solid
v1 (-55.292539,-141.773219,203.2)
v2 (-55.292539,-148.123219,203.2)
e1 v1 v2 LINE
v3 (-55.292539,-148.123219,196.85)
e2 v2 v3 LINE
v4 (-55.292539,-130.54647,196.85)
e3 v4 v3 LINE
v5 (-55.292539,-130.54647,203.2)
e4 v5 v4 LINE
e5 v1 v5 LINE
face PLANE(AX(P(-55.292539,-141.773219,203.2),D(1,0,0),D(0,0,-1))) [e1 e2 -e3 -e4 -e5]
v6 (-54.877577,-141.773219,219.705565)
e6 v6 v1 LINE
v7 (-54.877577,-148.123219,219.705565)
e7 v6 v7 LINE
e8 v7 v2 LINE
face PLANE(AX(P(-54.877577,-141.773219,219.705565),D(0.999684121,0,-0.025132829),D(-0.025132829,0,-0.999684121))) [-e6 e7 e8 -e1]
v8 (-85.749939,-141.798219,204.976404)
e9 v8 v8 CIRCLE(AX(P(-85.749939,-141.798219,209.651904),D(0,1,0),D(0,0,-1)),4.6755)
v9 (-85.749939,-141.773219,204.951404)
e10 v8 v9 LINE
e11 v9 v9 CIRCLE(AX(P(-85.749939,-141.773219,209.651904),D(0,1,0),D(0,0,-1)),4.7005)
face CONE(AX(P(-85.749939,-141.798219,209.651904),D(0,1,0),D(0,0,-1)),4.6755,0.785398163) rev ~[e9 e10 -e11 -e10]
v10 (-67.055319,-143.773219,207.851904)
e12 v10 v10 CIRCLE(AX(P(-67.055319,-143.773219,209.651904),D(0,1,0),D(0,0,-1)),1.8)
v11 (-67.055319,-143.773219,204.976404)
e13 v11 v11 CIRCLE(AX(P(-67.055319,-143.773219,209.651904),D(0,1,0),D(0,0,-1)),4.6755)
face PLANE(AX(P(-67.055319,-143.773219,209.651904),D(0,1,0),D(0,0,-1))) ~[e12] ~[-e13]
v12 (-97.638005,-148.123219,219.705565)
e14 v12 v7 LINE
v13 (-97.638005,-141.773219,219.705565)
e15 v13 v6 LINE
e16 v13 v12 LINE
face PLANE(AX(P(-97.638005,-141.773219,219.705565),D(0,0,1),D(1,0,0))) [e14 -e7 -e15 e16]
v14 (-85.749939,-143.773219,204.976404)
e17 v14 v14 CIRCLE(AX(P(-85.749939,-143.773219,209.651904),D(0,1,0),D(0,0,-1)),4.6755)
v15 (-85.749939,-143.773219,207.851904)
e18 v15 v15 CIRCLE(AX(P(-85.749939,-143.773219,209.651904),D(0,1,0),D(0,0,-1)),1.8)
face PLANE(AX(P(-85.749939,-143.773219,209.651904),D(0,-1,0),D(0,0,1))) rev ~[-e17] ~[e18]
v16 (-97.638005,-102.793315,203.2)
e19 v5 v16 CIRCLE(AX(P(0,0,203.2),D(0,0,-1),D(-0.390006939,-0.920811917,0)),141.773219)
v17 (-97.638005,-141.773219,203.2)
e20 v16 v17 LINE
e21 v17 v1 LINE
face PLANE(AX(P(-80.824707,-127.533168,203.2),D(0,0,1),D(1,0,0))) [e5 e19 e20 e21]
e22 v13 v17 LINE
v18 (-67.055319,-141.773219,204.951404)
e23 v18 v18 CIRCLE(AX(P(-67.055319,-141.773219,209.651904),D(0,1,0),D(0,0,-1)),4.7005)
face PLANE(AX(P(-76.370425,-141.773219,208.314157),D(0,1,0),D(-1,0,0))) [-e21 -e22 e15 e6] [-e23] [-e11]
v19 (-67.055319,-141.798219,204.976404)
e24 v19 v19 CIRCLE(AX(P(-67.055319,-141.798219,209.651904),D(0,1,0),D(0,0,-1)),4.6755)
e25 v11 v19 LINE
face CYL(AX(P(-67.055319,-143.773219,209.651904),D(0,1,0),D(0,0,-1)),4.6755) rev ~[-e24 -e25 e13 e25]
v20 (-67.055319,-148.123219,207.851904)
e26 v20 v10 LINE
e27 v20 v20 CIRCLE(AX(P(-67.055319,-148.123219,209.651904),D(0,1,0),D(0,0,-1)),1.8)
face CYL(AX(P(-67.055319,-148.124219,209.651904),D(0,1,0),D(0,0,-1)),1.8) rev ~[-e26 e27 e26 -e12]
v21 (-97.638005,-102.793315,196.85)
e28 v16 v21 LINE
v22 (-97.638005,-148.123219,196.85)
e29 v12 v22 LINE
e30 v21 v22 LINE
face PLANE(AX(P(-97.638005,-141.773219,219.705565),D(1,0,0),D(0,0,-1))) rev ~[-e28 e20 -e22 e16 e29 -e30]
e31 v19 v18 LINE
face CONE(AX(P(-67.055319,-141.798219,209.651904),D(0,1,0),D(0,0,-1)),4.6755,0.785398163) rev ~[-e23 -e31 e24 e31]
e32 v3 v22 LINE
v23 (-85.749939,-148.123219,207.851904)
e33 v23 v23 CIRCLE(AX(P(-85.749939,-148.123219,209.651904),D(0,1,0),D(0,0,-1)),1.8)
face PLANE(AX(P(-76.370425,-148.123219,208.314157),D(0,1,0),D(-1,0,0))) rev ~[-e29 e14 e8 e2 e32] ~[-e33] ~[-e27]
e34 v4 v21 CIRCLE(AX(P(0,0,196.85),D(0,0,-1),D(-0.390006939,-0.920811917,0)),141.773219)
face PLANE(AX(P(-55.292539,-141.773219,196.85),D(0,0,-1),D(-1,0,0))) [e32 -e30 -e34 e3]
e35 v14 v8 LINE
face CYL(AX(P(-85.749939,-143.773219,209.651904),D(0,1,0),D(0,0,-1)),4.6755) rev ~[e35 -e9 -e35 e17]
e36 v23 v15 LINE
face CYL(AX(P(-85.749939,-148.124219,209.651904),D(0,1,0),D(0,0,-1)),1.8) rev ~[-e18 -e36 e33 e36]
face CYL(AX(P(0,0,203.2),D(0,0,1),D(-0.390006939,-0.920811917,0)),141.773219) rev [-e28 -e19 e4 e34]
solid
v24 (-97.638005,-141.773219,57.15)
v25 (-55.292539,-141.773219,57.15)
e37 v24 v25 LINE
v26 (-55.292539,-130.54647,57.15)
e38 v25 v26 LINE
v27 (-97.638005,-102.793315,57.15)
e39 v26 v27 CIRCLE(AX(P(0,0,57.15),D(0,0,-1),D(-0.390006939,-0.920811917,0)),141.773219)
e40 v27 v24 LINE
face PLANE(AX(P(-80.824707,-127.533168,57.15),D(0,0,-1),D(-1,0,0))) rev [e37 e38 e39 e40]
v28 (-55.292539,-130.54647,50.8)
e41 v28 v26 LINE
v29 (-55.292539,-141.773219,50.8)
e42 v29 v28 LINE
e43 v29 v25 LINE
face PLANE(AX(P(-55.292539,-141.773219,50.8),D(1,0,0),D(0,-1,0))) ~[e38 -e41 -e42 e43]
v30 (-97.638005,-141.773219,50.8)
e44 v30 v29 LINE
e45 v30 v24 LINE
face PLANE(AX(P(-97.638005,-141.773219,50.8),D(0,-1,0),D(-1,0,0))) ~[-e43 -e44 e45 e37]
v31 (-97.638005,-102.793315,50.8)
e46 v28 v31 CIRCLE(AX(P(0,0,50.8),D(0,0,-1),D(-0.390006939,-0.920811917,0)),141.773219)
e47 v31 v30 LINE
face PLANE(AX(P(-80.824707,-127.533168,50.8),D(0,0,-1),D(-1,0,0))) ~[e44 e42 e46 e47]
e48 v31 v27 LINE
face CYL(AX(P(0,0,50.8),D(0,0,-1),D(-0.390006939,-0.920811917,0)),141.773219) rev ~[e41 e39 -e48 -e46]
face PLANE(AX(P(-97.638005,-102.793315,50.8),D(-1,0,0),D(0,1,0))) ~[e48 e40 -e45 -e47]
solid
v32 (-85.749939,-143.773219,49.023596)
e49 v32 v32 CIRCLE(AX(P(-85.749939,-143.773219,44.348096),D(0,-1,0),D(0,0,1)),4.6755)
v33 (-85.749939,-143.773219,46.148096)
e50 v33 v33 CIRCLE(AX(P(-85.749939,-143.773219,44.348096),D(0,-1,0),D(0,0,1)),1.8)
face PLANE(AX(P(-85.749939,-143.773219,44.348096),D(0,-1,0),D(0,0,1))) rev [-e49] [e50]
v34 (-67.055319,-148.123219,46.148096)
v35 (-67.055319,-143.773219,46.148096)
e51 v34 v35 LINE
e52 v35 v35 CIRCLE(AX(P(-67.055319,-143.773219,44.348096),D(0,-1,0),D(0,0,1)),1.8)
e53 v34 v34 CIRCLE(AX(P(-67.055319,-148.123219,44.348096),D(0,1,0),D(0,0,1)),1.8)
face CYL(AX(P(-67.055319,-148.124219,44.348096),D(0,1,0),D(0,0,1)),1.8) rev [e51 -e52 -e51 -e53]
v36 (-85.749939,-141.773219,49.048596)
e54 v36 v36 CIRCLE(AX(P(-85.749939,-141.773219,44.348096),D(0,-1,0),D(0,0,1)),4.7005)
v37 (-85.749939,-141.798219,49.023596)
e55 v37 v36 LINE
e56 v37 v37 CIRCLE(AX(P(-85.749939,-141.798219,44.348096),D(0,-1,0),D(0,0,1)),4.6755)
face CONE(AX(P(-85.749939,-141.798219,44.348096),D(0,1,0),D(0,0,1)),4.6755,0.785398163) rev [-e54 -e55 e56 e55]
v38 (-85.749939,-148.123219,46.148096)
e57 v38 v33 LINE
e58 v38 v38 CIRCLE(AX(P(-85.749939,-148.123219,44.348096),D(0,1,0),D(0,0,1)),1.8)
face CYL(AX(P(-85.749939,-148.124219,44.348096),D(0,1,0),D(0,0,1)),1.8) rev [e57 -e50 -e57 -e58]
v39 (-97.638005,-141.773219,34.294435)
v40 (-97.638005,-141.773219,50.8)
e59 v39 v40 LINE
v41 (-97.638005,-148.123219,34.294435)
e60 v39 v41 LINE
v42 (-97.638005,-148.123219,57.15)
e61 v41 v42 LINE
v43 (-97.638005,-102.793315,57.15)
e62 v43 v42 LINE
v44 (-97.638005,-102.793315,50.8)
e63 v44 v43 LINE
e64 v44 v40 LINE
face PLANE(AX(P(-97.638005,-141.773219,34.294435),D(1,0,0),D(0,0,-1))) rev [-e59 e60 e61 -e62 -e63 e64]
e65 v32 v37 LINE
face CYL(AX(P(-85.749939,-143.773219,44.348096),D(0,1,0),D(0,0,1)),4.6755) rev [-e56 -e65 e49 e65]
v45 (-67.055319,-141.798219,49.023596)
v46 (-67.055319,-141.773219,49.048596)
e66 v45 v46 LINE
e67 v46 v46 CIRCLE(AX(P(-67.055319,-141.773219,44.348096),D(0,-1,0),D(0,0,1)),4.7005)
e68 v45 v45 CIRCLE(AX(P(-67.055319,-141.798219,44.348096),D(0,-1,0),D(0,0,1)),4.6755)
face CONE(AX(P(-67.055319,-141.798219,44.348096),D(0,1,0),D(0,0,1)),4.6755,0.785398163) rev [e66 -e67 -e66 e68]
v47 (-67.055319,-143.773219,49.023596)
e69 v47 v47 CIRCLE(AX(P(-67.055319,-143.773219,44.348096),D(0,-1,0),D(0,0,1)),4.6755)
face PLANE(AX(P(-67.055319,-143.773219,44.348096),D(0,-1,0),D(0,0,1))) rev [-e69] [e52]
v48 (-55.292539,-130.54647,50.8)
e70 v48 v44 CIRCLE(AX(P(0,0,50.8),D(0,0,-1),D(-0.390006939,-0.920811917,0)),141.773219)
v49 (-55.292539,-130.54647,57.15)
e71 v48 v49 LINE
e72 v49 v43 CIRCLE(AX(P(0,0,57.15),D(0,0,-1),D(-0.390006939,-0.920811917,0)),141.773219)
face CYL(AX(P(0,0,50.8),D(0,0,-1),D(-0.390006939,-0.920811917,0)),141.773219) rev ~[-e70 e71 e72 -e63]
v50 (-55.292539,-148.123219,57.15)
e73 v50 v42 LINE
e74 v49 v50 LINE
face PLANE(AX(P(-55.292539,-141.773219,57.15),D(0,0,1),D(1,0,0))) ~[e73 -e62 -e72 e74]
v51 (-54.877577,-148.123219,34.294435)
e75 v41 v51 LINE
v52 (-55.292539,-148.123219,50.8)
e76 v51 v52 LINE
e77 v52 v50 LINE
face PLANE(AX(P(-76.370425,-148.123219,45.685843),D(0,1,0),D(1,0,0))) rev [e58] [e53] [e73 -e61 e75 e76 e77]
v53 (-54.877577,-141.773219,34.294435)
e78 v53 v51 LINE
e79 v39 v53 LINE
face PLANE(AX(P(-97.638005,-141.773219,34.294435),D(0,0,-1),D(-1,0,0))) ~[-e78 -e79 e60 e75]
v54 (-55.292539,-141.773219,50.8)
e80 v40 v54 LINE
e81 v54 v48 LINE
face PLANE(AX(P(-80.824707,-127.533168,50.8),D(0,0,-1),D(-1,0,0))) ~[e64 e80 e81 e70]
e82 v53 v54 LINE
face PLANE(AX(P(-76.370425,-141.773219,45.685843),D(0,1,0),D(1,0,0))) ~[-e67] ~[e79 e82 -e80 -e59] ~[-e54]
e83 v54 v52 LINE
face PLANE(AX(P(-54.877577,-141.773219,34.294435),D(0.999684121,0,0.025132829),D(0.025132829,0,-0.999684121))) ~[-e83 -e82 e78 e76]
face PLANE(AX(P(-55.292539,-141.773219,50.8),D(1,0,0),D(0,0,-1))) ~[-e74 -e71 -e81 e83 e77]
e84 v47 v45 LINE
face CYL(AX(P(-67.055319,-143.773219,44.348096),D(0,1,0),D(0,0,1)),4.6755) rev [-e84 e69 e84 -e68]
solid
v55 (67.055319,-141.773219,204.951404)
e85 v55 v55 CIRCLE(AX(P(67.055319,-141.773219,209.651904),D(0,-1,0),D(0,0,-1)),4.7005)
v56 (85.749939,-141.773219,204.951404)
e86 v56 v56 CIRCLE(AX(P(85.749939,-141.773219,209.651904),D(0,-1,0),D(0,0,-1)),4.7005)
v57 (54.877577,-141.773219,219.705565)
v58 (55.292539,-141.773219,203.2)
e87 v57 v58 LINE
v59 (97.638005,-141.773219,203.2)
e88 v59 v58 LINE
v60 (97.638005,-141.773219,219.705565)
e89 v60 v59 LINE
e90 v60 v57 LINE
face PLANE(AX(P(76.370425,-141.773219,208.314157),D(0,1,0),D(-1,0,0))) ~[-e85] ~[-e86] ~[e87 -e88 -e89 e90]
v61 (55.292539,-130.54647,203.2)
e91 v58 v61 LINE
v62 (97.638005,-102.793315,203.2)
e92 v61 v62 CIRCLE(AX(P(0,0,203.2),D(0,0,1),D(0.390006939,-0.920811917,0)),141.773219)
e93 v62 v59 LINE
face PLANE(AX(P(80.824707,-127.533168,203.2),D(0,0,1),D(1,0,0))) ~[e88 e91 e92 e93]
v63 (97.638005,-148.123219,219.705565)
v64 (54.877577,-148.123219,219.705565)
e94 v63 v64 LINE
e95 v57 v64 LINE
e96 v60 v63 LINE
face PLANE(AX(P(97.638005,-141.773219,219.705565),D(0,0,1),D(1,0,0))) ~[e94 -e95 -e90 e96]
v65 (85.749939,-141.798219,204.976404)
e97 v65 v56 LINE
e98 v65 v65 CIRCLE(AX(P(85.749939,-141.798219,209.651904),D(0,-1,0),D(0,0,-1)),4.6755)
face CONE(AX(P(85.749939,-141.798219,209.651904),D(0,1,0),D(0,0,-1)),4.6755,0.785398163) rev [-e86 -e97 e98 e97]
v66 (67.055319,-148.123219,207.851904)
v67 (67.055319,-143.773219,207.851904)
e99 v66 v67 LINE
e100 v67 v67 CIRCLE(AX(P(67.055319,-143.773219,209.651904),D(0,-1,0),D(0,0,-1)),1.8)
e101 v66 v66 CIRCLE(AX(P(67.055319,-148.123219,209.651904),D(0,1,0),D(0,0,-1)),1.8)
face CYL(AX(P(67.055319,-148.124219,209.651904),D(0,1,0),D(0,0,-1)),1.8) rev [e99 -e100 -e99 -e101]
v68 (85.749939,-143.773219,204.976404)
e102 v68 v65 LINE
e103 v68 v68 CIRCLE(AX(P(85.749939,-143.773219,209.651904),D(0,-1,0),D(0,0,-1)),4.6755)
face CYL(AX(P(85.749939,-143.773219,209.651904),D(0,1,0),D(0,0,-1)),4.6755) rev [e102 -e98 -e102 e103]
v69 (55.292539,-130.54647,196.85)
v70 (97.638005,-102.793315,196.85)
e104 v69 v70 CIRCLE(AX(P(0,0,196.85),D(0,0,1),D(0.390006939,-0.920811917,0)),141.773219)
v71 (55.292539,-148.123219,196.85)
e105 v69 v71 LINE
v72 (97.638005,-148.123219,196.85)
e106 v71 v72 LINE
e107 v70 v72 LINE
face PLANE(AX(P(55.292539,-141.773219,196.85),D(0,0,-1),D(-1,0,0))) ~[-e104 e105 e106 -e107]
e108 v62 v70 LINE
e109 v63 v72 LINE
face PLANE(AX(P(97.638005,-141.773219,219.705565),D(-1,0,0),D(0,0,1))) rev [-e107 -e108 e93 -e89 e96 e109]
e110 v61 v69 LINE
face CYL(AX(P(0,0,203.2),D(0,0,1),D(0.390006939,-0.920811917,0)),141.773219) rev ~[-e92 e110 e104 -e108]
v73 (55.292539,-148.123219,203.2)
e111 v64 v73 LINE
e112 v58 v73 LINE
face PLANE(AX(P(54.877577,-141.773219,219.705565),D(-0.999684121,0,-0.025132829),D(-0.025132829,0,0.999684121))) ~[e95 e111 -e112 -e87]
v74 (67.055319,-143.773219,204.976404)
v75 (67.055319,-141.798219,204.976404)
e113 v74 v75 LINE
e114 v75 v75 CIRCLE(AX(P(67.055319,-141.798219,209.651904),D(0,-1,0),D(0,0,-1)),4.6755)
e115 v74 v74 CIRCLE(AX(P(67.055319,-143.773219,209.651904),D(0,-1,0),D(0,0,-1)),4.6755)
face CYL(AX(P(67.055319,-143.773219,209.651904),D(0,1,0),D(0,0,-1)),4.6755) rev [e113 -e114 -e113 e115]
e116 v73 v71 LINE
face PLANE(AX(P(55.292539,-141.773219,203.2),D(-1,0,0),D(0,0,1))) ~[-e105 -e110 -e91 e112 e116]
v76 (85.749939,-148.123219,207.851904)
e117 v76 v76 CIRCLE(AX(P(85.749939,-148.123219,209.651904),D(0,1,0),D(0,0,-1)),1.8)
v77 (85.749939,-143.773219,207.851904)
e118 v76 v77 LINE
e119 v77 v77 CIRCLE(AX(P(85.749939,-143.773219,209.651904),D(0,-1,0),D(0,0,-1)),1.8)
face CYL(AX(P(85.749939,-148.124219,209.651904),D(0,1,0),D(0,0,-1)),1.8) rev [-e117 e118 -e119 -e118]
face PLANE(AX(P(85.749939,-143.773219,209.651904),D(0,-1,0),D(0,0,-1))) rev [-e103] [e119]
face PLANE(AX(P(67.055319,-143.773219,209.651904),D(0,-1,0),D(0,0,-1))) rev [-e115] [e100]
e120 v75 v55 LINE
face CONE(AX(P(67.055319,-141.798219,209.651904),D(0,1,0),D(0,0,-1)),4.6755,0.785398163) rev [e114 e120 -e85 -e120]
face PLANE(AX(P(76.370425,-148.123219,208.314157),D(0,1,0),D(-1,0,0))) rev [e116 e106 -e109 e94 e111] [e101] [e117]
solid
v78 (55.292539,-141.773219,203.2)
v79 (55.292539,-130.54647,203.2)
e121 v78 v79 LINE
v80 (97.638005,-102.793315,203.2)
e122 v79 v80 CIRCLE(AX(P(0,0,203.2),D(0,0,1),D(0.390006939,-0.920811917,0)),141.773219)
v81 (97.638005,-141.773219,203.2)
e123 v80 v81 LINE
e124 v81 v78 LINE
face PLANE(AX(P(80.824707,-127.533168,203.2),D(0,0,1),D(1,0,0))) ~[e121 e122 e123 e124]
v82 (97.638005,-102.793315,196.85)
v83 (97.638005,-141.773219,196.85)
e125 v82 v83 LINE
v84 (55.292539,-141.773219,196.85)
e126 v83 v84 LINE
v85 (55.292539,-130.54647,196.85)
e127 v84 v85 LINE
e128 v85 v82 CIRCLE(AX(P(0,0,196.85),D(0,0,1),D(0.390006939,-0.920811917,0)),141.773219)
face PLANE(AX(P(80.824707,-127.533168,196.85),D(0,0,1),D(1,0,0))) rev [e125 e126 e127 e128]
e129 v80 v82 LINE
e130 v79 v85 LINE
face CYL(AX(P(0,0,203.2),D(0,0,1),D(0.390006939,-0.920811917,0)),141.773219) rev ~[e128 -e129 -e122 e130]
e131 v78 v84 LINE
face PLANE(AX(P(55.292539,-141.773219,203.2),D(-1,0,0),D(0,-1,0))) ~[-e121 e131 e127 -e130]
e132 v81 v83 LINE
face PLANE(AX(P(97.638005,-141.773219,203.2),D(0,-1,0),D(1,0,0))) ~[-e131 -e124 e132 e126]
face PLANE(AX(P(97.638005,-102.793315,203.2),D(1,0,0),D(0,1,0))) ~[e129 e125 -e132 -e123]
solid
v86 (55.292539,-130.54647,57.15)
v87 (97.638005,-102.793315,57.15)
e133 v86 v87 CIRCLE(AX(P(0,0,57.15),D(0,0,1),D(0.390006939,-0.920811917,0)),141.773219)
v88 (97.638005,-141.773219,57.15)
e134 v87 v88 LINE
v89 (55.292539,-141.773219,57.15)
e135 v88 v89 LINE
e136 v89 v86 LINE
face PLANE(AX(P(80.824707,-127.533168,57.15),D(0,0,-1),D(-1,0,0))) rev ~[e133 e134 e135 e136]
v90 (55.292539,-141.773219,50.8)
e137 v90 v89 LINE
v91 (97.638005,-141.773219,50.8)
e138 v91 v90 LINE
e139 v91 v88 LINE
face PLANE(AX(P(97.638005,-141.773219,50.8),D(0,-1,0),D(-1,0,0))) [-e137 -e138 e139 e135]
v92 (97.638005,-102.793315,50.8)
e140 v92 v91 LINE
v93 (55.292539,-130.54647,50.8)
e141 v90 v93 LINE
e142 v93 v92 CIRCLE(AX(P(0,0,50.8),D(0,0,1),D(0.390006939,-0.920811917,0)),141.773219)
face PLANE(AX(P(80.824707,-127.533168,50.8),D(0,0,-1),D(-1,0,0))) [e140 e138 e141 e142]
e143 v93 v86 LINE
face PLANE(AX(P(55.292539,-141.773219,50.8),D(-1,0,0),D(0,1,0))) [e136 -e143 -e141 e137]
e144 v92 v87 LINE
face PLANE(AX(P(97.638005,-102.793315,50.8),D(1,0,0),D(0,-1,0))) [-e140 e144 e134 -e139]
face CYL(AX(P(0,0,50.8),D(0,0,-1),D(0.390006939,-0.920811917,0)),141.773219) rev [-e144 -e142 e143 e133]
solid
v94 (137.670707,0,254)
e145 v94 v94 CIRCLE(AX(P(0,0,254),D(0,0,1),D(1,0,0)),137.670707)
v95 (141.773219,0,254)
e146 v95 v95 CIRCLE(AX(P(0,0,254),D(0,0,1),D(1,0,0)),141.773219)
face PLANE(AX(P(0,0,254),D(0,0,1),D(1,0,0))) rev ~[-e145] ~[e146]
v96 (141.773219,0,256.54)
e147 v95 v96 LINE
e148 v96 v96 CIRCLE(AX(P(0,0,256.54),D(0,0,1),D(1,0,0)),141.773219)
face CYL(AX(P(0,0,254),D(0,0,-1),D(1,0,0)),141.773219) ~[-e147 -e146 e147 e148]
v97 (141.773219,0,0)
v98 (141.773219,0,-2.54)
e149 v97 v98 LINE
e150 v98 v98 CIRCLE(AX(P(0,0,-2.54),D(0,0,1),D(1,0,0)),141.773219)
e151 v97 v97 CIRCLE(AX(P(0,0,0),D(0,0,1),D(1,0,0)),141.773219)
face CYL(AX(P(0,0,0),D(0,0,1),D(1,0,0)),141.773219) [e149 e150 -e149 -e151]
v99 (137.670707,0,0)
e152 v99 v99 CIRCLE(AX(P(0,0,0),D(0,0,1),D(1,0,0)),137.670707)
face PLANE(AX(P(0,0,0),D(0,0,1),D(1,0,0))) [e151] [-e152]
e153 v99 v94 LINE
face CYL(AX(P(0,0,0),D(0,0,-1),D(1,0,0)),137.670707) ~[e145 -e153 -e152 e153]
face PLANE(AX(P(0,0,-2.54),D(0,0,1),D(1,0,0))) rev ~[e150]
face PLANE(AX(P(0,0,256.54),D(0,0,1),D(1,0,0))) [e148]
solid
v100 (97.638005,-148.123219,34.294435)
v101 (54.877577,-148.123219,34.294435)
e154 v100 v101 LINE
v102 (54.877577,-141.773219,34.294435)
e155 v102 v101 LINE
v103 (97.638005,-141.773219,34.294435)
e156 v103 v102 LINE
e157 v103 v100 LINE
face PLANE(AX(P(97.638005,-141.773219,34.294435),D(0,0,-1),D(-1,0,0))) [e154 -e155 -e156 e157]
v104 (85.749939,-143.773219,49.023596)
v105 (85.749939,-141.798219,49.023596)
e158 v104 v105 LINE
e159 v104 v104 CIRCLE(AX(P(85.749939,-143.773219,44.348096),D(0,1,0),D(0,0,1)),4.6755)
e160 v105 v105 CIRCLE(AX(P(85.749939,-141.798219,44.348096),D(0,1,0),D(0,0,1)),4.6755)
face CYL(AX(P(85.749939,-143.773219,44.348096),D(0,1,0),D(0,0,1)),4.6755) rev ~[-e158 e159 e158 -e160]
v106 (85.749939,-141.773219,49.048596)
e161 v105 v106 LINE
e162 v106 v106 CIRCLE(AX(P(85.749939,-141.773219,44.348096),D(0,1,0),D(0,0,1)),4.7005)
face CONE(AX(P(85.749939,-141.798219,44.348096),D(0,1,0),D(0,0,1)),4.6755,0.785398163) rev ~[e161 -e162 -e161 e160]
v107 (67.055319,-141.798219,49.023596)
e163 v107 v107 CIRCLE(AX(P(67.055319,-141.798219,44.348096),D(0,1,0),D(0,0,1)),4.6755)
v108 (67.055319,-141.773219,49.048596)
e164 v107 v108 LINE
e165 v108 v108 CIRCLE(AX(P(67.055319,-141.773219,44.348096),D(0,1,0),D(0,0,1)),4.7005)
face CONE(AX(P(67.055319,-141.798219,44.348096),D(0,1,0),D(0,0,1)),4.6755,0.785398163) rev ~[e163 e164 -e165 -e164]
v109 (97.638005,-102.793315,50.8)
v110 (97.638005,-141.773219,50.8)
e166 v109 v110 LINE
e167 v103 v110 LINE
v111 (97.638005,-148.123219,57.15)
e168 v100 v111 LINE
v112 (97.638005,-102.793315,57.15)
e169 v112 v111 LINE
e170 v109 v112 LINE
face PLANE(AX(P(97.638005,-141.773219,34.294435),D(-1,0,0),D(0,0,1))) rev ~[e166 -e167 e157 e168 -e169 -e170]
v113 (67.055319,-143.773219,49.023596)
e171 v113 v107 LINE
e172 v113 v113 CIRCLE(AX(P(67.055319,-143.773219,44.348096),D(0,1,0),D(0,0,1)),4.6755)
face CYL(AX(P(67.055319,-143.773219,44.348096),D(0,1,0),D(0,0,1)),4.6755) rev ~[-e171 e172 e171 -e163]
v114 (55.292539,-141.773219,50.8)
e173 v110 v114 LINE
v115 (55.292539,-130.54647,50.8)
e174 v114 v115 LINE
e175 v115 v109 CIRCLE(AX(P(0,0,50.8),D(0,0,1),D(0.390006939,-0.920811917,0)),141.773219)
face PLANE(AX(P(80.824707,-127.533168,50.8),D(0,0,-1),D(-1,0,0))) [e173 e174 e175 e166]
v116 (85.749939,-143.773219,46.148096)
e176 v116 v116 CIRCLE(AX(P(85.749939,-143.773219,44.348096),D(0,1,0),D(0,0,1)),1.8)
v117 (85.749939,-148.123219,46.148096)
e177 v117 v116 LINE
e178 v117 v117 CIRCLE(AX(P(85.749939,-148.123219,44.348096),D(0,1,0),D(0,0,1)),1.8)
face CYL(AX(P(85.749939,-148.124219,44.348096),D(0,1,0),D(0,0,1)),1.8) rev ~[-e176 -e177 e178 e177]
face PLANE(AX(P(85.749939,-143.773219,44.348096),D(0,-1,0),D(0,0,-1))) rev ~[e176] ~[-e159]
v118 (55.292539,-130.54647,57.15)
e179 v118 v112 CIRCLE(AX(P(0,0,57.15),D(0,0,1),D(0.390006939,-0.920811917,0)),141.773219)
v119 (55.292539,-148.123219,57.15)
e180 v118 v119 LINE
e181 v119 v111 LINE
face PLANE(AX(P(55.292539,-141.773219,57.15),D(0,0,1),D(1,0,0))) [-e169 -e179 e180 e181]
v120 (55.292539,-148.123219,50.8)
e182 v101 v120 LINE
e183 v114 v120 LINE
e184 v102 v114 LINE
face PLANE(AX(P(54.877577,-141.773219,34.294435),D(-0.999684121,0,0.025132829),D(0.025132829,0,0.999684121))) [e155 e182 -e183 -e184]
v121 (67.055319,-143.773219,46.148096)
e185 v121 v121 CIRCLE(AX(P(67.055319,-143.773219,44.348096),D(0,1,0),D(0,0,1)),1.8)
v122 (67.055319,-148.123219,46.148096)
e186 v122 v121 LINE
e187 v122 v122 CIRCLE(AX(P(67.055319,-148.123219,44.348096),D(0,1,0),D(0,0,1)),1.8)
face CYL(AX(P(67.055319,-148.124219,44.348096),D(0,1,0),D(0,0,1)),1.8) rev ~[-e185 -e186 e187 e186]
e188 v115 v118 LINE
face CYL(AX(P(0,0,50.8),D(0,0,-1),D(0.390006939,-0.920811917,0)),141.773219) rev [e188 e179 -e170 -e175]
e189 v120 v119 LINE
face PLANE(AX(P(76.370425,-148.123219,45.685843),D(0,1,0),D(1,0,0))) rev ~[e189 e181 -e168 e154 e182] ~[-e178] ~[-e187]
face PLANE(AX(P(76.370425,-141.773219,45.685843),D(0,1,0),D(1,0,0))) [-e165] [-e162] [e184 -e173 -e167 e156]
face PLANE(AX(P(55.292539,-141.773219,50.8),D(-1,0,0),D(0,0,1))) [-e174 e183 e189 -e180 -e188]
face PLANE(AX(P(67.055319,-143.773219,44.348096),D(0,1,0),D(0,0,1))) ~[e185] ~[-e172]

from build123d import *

# Parameters (mm, degrees)
SKETCH1_R                                   = 101.520631511
BOSS_EXTRUDE1_DEPTH                         = 254
SKETCH3_R                                   = 137.670707206
BOSS_EXTRUDE2_DEPTH                         = 254
SKETCH7_R                                   = 141.773218919
BOSS_EXTRUDE3_DEPTH                         = 2.54
SKETCH8_R                                   = 141.773218919
BOSS_EXTRUDE4_DEPTH                         = 2.54
BOSS_EXTRUDE5_DEPTH                         = 6.35
BOSS_EXTRUDE6_DEPTH                         = 6.35
CBORE_FOR_M3_HEX_HEAD_CAP_SCREW1_AT_2_COUNT = 2
CBORE_FOR_M3_HEX_HEAD_CAP_SCREW1_AT_2_PITCH = 18.694620376


with BuildPart() as part:
    # Sketch1 → Boss-Extrude1 (new body)
    with BuildSketch(Plane.XY):
        Circle(SKETCH1_R)
    extrude(amount=BOSS_EXTRUDE1_DEPTH)

    # Sketch3 → Boss-Extrude2 (add)
    with BuildSketch(Plane.XY):
        Circle(SKETCH3_R)
    extrude(amount=BOSS_EXTRUDE2_DEPTH)

    # Sketch7 → Boss-Extrude3 (add)
    with BuildSketch(Plane.XY):
        Circle(SKETCH7_R)
    extrude(amount=-BOSS_EXTRUDE3_DEPTH)

    # Sketch8 → Boss-Extrude4 (add)
    with BuildSketch(Plane.XY.offset(254)):
        Circle(SKETCH8_R)
    extrude(amount=BOSS_EXTRUDE4_DEPTH)


with BuildPart() as body_2:
    # Sketch9 → Boss-Extrude5 (new body)
    with BuildSketch(Plane.XY.offset(50.8)):
        with BuildLine():
            Line((97.638005055, -102.793314818), (97.638005055, -141.773218919))
            Line((97.638005055, -141.773218919), (55.292539207, -141.773218919))
            Line((55.292539207, -141.773218919), (55.292539207, -130.546469545))
            ThreePointArc((55.292539207, -130.546469545), (77.714202315, -118.575496461), (97.638005055, -102.793314818))
        make_face()
    extrude(amount=BOSS_EXTRUDE5_DEPTH)


with BuildPart() as body_3:
    # Mirror2: mirrored copy
    add(body_2.part.mirror(Plane(origin=(0, 0, 0), x_dir=(0, 0, 1), z_dir=(1, 0, 0))))


with BuildPart() as body_4:
    # Mirror3: mirrored copy
    add(body_3.part.mirror(Plane.XY.offset(127)))

    # Sketch11 → Boss-Extrude6 (add)
    with BuildSketch(Plane.XZ.offset(141.773218919)):
        Polygon((-97.638005055, 203.2), (-97.638005055, 219.705564762), (-54.877576599, 219.705564762), (-55.292539207, 203.2), (-55.292539207, 196.85), (-97.638005055, 196.85), align=None)
    extrude(amount=BOSS_EXTRUDE6_DEPTH)


with BuildPart() as body_5:
    # Mirror3 2: mirrored copy
    add(body_2.part.mirror(Plane.XY.offset(127)))


with BuildPart() as body_6:
    # Mirror4: mirrored copy
    add(body_4.part.mirror(Plane.XY.offset(127)))


with BuildPart() as body_7:
    # Mirror5: mirrored copy
    add(body_4.part.mirror(Plane(origin=(0, 0, 0), x_dir=(0, 0, 1), z_dir=(1, 0, 0))))

    # Mirror8 copy 2 sketch → Mirror8 copy 2 (revolve, cut)
    with BuildSketch(Plane(origin=(85.749939421, -141.773218919, 209.651903767), x_dir=(0, 0, -1), z_dir=(-1, 0, 0))):
        Polygon((0, 0), (0, 6.351), (1.8, 6.351), (1.8, 2), (4.6755, 2), (4.6755, 0.025), (4.7005, 0), align=None)
    revolve(axis=Axis((85.749939421, -135.423218919, 209.651903767), (0, -1, 0)), mode=Mode.SUBTRACT)

    # Mirror8 copy 3 sketch → Mirror8 copy 3 (revolve, cut)
    with BuildSketch(Plane(origin=(67.055319044, -141.773218919, 209.651903767), x_dir=(0, 0, -1), z_dir=(-1, 0, 0))):
        Polygon((0, 0), (0, 6.351), (1.8, 6.351), (1.8, 2), (4.6755, 2), (4.6755, 0.025), (4.7005, 0), align=None)
    revolve(axis=Axis((67.055319044, -135.423218919, 209.651903767), (0, -1, 0)), mode=Mode.SUBTRACT)


with BuildPart() as body_8:
    # Mirror5 2: mirrored copy
    add(body_6.part.mirror(Plane(origin=(0, 0, 0), x_dir=(0, 0, 1), z_dir=(1, 0, 0))))


with BuildPart() as body_6_1:
    add(body_6.part)

    # Sketch13 → CBORE for M3 Hex Head Cap Screw1 (revolve, cut)
    with BuildSketch(Plane(origin=(-85.749939421, -141.773218919, 44.348096233), x_dir=(0, 0, 1), z_dir=(1, 0, 0))):
        Polygon((0, 0), (0, 6.351), (1.8, 6.351), (1.8, 2), (4.6755, 2), (4.6755, 0.025), (4.7005, 0), align=None)
    cbore_for_m3_hex_head_cap_screw1 = revolve(axis=Axis((-85.749939421, -135.423218919, 44.348096233), (0, -1, 0)), mode=Mode.SUBTRACT)

    # CBORE for M3 Hex Head Cap Screw1 at 2: CBORE for M3 Hex Head Cap Screw1 ×2
    with Locations(*[(i * CBORE_FOR_M3_HEX_HEAD_CAP_SCREW1_AT_2_PITCH, 0, 0) for i in range(1, CBORE_FOR_M3_HEX_HEAD_CAP_SCREW1_AT_2_COUNT)]):
        add(cbore_for_m3_hex_head_cap_screw1, mode=Mode.SUBTRACT)


with BuildPart() as body_4_1:
    add(body_4.part)

    # Mirror7: CBORE for M3 Hex Head Cap Screw1 across plane
    add(cbore_for_m3_hex_head_cap_screw1.mirror(Plane.XY.offset(127)), mode=Mode.SUBTRACT)

    # Mirror7 copy 1 sketch → Mirror7 copy 1 (revolve, cut)
    with BuildSketch(Plane(origin=(-67.055319044, -141.773218919, 209.651903767), x_dir=(0, 0, -1), z_dir=(1, 0, 0))):
        Polygon((0, 0), (0, -6.351), (1.8, -6.351), (1.8, -2), (4.6755, -2), (4.6755, -0.025), (4.7005, 0), align=None)
    revolve(axis=Axis((-67.055319044, -135.423218919, 209.651903767), (0, 1, 0)), mode=Mode.SUBTRACT)


with BuildPart() as body_8_1:
    add(body_8.part)

    # Mirror8: CBORE for M3 Hex Head Cap Screw1 across plane
    add(cbore_for_m3_hex_head_cap_screw1.mirror(Plane(origin=(0, 0, 0), x_dir=(0, 0, 1), z_dir=(1, 0, 0))), mode=Mode.SUBTRACT)

    # Mirror8 copy 1 sketch → Mirror8 copy 1 (revolve, cut)
    with BuildSketch(Plane(origin=(67.055319044, -141.773218919, 44.348096233), x_dir=(0, 0, 1), z_dir=(-1, 0, 0))):
        Polygon((0, 0), (0, -6.351), (1.8, -6.351), (1.8, -2), (4.6755, -2), (4.6755, -0.025), (4.7005, 0), align=None)
    revolve(axis=Axis((67.055319044, -135.423218919, 44.348096233), (0, 1, 0)), mode=Mode.SUBTRACT)


solid = Compound([part.part, body_2.part, body_3.part, body_5.part, body_7.part, body_6_1.part, body_4_1.part, body_8_1.part])
